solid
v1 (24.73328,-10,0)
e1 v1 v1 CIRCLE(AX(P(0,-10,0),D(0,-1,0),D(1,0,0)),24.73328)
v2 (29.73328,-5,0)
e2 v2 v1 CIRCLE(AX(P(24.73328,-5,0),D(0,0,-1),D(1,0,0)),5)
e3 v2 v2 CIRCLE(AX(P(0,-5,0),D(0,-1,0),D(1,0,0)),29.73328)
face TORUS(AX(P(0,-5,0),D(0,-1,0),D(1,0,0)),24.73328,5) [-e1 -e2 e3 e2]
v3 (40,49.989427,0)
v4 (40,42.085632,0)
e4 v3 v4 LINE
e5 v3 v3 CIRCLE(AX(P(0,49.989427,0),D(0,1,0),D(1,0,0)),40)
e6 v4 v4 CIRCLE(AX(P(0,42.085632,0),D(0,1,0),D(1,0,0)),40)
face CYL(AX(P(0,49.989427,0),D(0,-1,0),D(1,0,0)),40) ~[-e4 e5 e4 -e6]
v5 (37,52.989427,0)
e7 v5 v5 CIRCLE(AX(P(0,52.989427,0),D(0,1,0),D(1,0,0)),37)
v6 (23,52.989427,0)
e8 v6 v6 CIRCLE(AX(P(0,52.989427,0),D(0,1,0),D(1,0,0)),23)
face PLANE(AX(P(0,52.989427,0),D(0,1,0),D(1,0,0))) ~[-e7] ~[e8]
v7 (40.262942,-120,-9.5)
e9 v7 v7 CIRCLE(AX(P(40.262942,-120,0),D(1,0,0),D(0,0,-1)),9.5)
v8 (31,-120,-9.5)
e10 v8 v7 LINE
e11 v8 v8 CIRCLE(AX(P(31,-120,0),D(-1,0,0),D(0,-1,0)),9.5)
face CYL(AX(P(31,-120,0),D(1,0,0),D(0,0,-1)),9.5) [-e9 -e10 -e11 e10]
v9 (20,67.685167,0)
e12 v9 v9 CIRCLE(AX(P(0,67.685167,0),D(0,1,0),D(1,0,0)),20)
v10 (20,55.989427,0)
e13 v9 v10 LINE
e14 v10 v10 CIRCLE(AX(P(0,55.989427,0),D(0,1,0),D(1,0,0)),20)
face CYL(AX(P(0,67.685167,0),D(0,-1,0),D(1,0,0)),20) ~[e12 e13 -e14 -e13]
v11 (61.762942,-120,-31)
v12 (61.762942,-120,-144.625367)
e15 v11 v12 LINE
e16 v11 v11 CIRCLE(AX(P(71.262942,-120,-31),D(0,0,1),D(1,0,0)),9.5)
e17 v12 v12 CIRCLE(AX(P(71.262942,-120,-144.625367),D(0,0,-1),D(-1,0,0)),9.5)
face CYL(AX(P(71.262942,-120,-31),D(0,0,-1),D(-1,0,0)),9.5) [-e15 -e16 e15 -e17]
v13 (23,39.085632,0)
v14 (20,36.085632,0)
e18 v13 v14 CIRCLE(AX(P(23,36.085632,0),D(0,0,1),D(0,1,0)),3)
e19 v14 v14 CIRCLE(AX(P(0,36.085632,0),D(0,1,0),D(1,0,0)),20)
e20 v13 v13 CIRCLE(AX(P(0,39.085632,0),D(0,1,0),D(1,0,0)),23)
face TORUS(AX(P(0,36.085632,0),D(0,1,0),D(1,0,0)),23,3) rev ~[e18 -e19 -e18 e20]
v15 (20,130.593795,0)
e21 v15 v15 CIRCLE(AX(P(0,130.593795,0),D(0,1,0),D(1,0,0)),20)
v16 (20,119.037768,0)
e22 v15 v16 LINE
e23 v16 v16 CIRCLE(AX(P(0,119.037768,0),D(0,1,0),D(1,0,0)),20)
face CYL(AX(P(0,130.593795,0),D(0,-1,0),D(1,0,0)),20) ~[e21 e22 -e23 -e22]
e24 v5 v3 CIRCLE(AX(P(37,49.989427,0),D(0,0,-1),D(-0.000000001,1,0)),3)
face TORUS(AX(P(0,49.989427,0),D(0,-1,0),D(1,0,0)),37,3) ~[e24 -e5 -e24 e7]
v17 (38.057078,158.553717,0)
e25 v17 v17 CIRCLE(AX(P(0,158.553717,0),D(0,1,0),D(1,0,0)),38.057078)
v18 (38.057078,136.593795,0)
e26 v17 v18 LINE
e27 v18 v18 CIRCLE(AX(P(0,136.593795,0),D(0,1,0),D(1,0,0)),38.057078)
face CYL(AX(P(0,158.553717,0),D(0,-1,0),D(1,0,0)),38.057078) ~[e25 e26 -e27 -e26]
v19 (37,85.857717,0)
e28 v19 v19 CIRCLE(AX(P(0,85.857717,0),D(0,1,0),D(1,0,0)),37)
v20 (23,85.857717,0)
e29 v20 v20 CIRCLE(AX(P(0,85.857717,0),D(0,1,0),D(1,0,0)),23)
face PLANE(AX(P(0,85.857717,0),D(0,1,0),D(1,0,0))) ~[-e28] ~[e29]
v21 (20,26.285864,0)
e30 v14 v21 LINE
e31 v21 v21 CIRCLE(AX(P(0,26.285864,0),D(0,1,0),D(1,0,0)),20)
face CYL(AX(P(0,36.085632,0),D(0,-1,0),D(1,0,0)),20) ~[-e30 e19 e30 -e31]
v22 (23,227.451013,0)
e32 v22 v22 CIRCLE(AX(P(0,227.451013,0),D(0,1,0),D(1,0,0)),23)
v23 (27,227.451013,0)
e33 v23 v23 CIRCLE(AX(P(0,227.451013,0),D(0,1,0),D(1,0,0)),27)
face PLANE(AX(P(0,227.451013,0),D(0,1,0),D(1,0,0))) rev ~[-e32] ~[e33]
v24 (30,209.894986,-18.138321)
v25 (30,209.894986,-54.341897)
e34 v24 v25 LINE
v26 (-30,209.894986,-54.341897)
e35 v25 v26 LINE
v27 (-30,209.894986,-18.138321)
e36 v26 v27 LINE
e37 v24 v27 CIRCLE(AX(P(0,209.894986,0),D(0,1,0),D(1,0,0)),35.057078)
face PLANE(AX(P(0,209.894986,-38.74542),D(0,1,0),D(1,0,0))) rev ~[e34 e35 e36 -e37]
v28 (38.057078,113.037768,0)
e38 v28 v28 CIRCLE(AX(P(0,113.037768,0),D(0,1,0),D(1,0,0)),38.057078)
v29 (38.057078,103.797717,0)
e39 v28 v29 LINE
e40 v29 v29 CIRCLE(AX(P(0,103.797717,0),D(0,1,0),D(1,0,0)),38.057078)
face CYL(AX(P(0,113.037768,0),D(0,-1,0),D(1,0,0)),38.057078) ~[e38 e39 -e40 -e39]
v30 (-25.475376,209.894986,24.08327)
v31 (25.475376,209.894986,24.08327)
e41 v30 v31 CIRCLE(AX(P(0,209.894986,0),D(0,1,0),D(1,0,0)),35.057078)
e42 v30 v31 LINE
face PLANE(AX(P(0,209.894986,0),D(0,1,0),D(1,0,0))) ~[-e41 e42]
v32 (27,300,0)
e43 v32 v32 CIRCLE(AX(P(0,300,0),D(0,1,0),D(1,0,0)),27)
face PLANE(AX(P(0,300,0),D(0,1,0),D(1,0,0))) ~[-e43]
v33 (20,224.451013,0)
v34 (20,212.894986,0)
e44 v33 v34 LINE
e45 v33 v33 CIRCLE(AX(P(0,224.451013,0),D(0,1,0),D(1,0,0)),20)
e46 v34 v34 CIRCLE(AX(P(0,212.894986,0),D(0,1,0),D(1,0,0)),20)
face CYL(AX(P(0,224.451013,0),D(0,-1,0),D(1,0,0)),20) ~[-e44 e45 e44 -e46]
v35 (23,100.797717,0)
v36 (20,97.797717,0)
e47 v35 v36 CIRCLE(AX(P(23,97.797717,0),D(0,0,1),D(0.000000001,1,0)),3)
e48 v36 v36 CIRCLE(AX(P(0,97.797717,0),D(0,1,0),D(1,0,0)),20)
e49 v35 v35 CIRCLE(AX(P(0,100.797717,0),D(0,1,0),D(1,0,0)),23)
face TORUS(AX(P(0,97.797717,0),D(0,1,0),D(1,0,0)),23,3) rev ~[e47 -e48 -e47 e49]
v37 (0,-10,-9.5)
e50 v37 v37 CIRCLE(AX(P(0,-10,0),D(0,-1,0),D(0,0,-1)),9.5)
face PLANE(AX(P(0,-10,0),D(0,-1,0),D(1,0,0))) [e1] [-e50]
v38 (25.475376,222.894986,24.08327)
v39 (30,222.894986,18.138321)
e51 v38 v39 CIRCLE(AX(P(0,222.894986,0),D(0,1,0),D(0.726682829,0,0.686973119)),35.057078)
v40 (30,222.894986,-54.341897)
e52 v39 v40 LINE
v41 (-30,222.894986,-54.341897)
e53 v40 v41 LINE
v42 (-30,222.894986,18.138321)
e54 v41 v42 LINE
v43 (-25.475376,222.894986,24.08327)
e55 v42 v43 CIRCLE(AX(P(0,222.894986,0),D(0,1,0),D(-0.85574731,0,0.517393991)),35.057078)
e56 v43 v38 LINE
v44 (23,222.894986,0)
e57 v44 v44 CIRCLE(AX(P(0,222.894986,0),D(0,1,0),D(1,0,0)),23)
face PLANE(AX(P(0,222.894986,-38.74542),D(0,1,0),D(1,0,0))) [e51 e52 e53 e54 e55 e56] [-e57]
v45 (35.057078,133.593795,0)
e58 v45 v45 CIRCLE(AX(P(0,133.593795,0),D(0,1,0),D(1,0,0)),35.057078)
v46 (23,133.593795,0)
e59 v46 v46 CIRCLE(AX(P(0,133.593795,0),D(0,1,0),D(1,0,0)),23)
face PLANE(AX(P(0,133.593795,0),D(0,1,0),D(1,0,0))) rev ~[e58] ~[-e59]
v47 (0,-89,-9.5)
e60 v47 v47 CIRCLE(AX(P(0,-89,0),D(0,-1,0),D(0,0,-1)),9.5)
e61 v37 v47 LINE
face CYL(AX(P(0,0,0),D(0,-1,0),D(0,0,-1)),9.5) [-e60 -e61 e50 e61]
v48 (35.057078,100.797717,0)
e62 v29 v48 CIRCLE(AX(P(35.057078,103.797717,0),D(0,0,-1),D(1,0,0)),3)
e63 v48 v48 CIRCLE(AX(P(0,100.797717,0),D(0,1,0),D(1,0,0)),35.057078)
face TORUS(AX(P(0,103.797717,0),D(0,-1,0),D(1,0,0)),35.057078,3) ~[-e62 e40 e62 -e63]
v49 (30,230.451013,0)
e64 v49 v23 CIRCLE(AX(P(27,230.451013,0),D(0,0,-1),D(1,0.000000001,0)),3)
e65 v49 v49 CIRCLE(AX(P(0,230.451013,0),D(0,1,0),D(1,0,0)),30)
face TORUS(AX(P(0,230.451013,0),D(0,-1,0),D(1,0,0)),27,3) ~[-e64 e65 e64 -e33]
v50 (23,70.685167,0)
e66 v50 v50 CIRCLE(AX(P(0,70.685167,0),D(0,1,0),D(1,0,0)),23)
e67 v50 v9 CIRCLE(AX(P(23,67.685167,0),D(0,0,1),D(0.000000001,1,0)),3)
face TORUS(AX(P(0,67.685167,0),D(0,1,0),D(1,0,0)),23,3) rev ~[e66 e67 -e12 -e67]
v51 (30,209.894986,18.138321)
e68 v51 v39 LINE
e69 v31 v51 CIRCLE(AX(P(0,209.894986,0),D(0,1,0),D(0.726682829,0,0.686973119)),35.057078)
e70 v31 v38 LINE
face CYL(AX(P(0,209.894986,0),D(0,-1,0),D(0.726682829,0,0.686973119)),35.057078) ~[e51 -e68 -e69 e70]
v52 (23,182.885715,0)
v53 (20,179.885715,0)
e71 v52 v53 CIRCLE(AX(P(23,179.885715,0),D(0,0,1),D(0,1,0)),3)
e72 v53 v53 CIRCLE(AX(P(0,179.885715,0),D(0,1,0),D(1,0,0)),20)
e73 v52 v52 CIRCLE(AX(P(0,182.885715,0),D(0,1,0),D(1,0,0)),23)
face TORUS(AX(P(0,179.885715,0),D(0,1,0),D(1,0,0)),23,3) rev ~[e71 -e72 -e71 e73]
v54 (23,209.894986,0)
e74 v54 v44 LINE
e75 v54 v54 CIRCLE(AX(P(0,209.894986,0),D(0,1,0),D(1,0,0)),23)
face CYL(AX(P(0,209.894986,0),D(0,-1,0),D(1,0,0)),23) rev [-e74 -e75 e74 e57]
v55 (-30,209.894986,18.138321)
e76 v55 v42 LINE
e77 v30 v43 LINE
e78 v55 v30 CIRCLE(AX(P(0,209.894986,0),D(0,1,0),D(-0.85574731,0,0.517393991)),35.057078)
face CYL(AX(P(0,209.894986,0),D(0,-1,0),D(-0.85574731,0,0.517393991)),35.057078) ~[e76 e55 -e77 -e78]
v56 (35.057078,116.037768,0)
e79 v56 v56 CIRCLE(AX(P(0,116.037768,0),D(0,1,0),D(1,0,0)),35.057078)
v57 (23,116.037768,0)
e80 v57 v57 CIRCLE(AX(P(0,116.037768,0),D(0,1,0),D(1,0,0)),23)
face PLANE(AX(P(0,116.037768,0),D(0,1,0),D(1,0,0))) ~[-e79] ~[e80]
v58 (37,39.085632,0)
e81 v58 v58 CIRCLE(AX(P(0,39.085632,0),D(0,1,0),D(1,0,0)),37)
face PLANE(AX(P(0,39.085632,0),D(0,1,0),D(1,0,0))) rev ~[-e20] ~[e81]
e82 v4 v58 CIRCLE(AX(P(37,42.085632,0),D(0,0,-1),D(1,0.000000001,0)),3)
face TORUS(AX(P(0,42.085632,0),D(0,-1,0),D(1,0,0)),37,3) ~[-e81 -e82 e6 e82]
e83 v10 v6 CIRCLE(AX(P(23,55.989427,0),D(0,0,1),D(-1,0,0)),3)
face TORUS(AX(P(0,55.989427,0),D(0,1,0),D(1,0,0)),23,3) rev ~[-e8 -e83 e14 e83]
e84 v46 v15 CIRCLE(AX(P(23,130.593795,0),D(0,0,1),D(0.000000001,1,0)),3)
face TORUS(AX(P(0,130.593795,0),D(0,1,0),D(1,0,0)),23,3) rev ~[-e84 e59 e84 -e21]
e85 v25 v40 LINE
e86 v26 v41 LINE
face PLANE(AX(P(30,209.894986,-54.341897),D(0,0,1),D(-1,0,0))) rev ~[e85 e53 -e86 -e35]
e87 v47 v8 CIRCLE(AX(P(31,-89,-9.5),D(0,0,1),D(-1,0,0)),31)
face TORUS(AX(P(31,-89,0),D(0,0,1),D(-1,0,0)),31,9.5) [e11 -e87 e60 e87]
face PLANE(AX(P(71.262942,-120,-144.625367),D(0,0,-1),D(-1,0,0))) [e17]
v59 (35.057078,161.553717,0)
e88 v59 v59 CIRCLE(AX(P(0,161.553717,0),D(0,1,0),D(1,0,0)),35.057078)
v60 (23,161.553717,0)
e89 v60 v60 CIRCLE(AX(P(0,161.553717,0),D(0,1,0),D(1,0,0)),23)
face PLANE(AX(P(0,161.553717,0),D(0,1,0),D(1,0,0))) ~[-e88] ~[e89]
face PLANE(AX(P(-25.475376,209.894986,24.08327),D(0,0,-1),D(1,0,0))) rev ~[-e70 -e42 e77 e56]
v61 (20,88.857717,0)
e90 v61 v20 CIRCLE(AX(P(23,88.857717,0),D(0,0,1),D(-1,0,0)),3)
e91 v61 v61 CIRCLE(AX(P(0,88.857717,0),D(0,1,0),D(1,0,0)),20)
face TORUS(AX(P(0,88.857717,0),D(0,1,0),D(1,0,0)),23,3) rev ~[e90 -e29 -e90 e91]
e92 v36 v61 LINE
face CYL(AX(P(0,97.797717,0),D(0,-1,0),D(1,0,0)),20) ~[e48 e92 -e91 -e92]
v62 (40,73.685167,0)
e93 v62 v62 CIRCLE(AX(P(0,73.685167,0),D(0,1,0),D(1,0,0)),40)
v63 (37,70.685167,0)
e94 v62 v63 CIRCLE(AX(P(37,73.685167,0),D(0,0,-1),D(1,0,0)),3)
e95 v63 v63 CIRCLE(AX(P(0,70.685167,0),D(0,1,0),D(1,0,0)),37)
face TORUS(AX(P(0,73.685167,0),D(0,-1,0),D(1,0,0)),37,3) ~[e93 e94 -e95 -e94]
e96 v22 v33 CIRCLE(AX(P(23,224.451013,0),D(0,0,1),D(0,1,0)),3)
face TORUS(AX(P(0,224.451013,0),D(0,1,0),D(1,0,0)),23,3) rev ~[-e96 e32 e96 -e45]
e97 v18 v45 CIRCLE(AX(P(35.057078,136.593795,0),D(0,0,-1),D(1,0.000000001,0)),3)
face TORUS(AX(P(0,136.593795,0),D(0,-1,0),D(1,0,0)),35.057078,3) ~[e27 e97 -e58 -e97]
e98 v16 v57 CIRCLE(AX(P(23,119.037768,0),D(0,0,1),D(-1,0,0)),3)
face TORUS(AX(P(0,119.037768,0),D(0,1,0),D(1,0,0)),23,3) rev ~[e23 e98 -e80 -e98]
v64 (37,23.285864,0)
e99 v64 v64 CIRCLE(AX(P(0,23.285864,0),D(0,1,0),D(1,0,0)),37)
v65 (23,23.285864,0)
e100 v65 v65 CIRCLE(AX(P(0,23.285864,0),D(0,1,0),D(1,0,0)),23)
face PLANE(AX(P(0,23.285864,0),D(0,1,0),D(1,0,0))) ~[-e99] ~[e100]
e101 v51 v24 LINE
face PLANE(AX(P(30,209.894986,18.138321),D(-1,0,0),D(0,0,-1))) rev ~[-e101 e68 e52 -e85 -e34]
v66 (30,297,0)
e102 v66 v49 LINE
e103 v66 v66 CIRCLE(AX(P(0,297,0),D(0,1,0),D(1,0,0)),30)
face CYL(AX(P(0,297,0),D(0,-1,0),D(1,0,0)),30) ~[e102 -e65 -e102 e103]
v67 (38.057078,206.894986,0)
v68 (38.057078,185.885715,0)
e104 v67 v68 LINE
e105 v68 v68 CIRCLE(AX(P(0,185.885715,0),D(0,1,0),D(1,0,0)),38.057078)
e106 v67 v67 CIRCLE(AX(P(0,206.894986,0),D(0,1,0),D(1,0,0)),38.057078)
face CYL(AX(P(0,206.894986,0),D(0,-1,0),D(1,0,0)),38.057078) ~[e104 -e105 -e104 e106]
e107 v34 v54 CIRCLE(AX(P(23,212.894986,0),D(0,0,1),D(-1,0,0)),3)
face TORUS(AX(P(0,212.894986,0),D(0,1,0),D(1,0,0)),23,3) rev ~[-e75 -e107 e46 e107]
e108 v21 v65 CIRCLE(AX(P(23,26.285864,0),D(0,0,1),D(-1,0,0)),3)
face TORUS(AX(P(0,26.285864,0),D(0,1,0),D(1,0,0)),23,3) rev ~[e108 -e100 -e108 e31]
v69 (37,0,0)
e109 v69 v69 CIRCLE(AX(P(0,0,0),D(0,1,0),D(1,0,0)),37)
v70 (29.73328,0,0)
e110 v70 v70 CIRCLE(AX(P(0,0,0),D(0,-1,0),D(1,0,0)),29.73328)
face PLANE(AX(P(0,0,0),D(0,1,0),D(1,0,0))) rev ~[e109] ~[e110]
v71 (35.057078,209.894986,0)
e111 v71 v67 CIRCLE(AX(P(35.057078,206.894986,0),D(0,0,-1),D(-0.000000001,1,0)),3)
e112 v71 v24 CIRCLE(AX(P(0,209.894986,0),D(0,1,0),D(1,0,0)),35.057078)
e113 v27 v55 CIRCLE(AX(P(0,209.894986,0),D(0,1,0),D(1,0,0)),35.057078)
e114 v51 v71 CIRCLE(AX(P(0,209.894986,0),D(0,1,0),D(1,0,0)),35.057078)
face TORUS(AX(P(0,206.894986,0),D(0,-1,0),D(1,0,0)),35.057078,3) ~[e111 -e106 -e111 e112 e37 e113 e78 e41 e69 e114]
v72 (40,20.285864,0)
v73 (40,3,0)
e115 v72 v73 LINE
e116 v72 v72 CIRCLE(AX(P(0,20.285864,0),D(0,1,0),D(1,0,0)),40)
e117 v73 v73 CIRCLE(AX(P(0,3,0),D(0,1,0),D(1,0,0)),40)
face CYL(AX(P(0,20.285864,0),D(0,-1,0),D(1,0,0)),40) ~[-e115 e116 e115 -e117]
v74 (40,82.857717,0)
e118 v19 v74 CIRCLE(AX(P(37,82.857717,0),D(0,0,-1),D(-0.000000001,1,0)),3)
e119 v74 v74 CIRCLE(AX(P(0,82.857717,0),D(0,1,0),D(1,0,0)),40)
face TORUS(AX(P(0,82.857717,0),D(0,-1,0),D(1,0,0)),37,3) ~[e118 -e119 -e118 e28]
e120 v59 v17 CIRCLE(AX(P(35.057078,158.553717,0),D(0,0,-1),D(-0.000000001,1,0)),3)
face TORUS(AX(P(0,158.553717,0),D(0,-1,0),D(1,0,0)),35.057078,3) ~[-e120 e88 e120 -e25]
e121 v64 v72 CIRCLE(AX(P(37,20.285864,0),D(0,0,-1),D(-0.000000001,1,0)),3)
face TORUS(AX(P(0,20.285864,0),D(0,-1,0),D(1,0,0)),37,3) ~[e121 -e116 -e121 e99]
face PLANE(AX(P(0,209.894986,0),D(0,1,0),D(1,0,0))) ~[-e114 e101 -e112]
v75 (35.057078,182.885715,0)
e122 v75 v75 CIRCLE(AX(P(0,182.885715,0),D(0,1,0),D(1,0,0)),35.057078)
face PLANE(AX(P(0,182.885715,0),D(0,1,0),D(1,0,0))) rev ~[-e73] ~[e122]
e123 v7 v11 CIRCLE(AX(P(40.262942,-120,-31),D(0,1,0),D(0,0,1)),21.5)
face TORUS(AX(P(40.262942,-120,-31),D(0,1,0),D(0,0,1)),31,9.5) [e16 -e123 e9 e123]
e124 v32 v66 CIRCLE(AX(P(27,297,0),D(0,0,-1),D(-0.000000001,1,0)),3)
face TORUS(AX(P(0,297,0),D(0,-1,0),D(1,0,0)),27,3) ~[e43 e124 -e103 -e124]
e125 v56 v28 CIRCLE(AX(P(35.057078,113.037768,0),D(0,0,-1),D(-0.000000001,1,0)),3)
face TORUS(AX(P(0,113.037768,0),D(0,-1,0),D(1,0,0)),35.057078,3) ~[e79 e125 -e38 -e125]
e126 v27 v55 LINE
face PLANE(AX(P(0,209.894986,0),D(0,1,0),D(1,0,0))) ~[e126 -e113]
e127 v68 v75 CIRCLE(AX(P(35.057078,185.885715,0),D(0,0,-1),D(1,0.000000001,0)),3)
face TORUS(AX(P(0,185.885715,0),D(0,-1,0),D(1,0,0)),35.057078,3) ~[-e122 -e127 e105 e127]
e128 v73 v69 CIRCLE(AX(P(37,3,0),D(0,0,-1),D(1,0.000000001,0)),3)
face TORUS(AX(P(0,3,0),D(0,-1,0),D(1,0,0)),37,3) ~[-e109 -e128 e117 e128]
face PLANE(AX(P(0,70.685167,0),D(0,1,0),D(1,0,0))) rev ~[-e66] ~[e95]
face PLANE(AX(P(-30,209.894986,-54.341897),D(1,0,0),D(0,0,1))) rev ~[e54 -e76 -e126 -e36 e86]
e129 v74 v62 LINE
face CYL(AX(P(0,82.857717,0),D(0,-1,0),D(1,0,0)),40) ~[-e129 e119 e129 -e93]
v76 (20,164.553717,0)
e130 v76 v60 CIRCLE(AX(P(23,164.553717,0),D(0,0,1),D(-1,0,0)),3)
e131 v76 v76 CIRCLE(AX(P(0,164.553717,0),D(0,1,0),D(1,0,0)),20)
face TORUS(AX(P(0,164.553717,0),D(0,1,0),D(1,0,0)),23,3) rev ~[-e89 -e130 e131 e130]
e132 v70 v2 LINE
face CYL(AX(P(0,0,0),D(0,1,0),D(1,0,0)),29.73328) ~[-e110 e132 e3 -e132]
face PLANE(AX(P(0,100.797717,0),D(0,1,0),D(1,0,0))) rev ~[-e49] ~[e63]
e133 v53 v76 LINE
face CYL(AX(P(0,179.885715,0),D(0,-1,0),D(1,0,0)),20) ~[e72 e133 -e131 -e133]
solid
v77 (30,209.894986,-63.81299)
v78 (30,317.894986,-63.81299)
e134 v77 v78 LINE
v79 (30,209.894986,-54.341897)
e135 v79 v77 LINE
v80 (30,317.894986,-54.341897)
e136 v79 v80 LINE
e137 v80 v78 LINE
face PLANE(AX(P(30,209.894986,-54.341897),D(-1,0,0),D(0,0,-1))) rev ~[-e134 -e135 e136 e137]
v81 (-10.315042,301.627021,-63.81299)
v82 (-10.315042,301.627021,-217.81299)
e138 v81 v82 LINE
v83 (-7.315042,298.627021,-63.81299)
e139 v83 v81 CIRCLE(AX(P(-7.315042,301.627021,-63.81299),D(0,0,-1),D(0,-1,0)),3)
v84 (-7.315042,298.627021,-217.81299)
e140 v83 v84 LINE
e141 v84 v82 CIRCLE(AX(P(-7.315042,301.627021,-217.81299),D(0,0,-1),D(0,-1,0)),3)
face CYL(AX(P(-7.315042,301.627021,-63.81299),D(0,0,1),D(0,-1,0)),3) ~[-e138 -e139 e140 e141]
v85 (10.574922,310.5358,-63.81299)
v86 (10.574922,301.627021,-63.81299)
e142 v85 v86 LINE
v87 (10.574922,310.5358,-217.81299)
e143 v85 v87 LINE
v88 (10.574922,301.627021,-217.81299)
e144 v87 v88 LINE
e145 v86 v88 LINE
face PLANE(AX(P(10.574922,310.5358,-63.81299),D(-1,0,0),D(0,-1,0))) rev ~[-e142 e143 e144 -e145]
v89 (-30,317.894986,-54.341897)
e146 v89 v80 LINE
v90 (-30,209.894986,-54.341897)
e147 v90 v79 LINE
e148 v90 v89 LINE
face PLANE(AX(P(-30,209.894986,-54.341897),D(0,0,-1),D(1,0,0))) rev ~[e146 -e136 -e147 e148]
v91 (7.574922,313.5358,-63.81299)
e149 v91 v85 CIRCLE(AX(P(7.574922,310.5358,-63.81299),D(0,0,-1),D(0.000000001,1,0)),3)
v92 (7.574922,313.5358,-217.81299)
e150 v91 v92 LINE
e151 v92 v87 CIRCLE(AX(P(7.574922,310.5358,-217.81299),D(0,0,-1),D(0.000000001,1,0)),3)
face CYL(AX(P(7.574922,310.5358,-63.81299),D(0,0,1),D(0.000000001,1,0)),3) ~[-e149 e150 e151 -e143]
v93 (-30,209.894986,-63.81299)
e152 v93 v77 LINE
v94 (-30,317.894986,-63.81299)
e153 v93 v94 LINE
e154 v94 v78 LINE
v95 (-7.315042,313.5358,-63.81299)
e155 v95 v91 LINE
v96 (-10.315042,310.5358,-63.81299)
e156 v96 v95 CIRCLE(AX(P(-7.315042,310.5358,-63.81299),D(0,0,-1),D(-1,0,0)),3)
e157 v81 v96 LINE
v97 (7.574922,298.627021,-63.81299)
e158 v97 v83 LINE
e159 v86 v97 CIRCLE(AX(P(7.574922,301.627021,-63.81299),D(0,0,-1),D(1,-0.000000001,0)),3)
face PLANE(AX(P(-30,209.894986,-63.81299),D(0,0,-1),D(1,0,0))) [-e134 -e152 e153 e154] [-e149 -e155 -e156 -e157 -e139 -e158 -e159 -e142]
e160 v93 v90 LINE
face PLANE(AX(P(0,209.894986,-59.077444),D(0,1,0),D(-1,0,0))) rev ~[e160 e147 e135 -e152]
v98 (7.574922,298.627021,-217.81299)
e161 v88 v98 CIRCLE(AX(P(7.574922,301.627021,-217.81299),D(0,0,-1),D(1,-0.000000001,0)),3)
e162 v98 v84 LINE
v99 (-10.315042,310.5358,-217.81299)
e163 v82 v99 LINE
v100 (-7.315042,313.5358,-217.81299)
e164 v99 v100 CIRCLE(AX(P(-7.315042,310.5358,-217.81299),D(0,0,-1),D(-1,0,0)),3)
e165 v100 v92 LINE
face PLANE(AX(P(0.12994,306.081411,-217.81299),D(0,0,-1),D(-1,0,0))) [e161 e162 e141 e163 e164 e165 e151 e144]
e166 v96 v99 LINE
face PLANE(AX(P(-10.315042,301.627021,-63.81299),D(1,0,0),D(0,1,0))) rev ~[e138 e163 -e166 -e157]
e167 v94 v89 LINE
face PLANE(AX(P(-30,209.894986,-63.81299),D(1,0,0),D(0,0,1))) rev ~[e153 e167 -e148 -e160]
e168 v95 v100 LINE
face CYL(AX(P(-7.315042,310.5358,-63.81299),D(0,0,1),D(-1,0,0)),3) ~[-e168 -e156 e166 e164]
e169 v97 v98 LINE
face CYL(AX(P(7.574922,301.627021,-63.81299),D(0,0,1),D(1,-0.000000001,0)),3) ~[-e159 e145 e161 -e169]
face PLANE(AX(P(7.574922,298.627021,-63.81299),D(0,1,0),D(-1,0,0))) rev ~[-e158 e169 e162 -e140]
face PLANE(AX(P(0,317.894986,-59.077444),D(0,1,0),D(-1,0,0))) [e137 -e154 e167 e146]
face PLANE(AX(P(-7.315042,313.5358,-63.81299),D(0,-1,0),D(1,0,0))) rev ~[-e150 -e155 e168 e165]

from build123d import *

# Parameters (mm, degrees)
CROQUIS2_R              = 29.733280037
SALIENTE_EXTRUIR1_DEPTH = 10
REDONDEO1_R             = 5
CROQUIS3_R              = 23
SALIENTE_EXTRUIR2_DEPTH = 13
SALIENTE_EXTRUIR3_DEPTH = 108
SALIENTE_EXTRUIR4_DEPTH = 154
BARRER2_PROFILE_R       = 9.5


with BuildPart() as part:
    # Croquis1 → Revolución2 (revolve)
    with BuildSketch(Plane.XY):
        with BuildLine():
            Line((0, 0), (0, 300))
            Line((0, 300), (27, 300))
            ThreePointArc((27, 300), (29.121320344, 299.121320344), (30, 297))
            Line((30, 297), (30, 230.451012724))
            ThreePointArc((30, 230.451012724), (29.121320344, 228.32969238), (27, 227.451012724))
            Line((27, 227.451012724), (23, 227.451012724))
            ThreePointArc((23, 227.451012724), (20.878679656, 226.572333067), (20, 224.451012724))
            Line((20, 224.451012724), (20, 212.89498634))
            ThreePointArc((20, 212.89498634), (20.878679656, 210.773665997), (23, 209.89498634))
            Line((23, 209.89498634), (35.057077789, 209.89498634))
            ThreePointArc((35.057077789, 209.89498634), (37.178398133, 209.016306684), (38.057077789, 206.89498634))
            Line((38.057077789, 206.89498634), (38.057077789, 185.885714981))
            ThreePointArc((38.057077789, 185.885714981), (37.178398133, 183.764394637), (35.057077789, 182.885714981))
            Line((35.057077789, 182.885714981), (23, 182.885714981))
            ThreePointArc((23, 182.885714981), (20.878679656, 182.007035324), (20, 179.885714981))
            Line((20, 179.885714981), (20, 164.553716867))
            ThreePointArc((20, 164.553716867), (20.878679656, 162.432396524), (23, 161.553716867))
            Line((23, 161.553716867), (35.057077789, 161.553716867))
            ThreePointArc((35.057077789, 161.553716867), (37.178398133, 160.675037211), (38.057077789, 158.553716867))
            Line((38.057077789, 158.553716867), (38.057077789, 136.59379475))
            ThreePointArc((38.057077789, 136.59379475), (37.178398133, 134.472474406), (35.057077789, 133.59379475))
            Line((35.057077789, 133.59379475), (23, 133.59379475))
            ThreePointArc((23, 133.59379475), (20.878679656, 132.715115094), (20, 130.59379475))
            Line((20, 130.59379475), (20, 119.037768366))
            ThreePointArc((20, 119.037768366), (20.878679656, 116.916448023), (23, 116.037768366))
            Line((23, 116.037768366), (35.057077789, 116.037768366))
            ThreePointArc((35.057077789, 116.037768366), (37.178398133, 115.15908871), (38.057077789, 113.037768366))
            Line((38.057077789, 113.037768366), (38.057077789, 103.797716867))
            ThreePointArc((38.057077789, 103.797716867), (37.178398133, 101.676396524), (35.057077789, 100.797716867))
            Line((35.057077789, 100.797716867), (23, 100.797716867))
            ThreePointArc((23, 100.797716867), (20.878679656, 99.919037211), (20, 97.797716867))
            Line((20, 97.797716867), (20, 88.857716867))
            ThreePointArc((20, 88.857716867), (20.878679656, 86.736396524), (23, 85.857716867))
            Line((23, 85.857716867), (37, 85.857716867))
            ThreePointArc((37, 85.857716867), (39.121320344, 84.979037211), (40, 82.857716867))
            Line((40, 82.857716867), (40, 73.685167011))
            ThreePointArc((40, 73.685167011), (39.121320344, 71.563846668), (37, 70.685167011))
            Line((37, 70.685167011), (23, 70.685167011))
            ThreePointArc((23, 70.685167011), (20.878679656, 69.806487355), (20, 67.685167011))
            Line((20, 67.685167011), (20, 55.98942738))
            ThreePointArc((20, 55.98942738), (20.878679656, 53.868107037), (23, 52.98942738))
            Line((23, 52.98942738), (37, 52.98942738))
            ThreePointArc((37, 52.98942738), (39.121320344, 52.110747724), (40, 49.98942738))
            Line((40, 49.98942738), (40, 42.085631956))
            ThreePointArc((40, 42.085631956), (39.121320344, 39.964311612), (37, 39.085631956))
            Line((37, 39.085631956), (23, 39.085631956))
            ThreePointArc((23, 39.085631956), (20.878679656, 38.206952299), (20, 36.085631956))
            Line((20, 36.085631956), (20, 26.285864428))
            ThreePointArc((20, 26.285864428), (20.878679656, 24.164544085), (23, 23.285864428))
            Line((23, 23.285864428), (37, 23.285864428))
            ThreePointArc((37, 23.285864428), (39.121320344, 22.407184772), (40, 20.285864428))
            Line((40, 20.285864428), (40, 3))
            ThreePointArc((40, 3), (39.121320344, 0.878679656), (37, 0))
            Line((37, 0), (0, 0))
        make_face()
    revolve(axis=Axis((0, 0, 0), (0, 1, 0)))

    # Croquis2 → Saliente-Extruir1 (add)
    with BuildSketch(Plane.XZ):
        Circle(CROQUIS2_R)
    extrude(amount=SALIENTE_EXTRUIR1_DEPTH)

    # Redondeo1
    redondeo1_edges = [part.edges().sort_by_distance(p)[0] for p in [
        (-29.733280037, -10, 0),
    ]]
    fillet(redondeo1_edges, radius=REDONDEO1_R)

    # Croquis3 → Saliente-Extruir2 (add)
    with BuildSketch(Plane(origin=(0, 209.89498634, 0), x_dir=(1, 0, 0), z_dir=(0, 1, 0))):
        with BuildLine():
            ThreePointArc((-30, 18.138321398), (0, 35.057077789), (30, 18.138321398))
            Line((30, 18.138321398), (30, 54.341897392))
            Line((30, 54.341897392), (-30, 54.341897392))
            Line((-30, 54.341897392), (-30, 18.138321398))
        make_face()
        with BuildLine():
            Line((12.206395984, -24.083270066), (25.475376465, -24.083270066))
            ThreePointArc((25.475376465, -24.083270066), (27.8965043, -21.231668587), (30, -18.138321398))
            Line((30, -18.138321398), (30, 18.138321398))
            ThreePointArc((30, 18.138321398), (0, 35.057077789), (-30, 18.138321398))
            Line((-30, 18.138321398), (-30, -18.138321398))
            ThreePointArc((-30, -18.138321398), (-27.8965043, -21.231668587), (-25.475376465, -24.083270066))
            Line((-25.475376465, -24.083270066), (-12.206395984, -24.083270066))
            ThreePointArc((-12.206395984, -24.083270066), (-14.132008145, 23.006224066), (27, 0))
            ThreePointArc((27, 0), (23.006224066, -14.132008145), (12.206395984, -24.083270066))
        make_face()
        with BuildLine():
            Line((-12.206395984, -24.083270066), (12.206395984, -24.083270066))
            ThreePointArc((12.206395984, -24.083270066), (23.006224066, -14.132008145), (27, 0))
            ThreePointArc((27, 0), (-14.132008145, 23.006224066), (-12.206395984, -24.083270066))
        make_face()
        Circle(CROQUIS3_R, mode=Mode.SUBTRACT)
    extrude(amount=SALIENTE_EXTRUIR2_DEPTH)

    # Barrer2: sweep along a curve in space
    with BuildLine() as barrer2_path:
        Line((0, 0, 0), (0, -89, 0))
        ThreePointArc((0, -89, 0), (9.079689783, -110.920310217, 0), (31, -120, 0))
        Line((31, -120, 0), (40.262942127, -120, 0))
        ThreePointArc((40.262942127, -120, 0), (62.183252344, -120, -9.079689783), (71.262942127, -120, -31))
        Line((71.262942127, -120, -31), (71.262942127, -120, -144.625367206))
    # Barrer2 profile (on start of the path) → Barrer2 (sweep)
    with BuildSketch(Plane(origin=(0, 0, 0), x_dir=(0, 0, -1), z_dir=(0, -1, 0))):
        Circle(BARRER2_PROFILE_R)
    sweep(path=barrer2_path.line)


with BuildPart() as body_2:
    # Croquis4 → Saliente-Extruir3 (new body)
    with BuildSketch(Plane.XZ.offset(-209.89498634)):
        Polygon((30, -54.341897392), (30, -63.812990479), (-29.096122516, -63.812990479), (-30, -63.812990479), (-30, -54.341897392), align=None)
    extrude(amount=-SALIENTE_EXTRUIR3_DEPTH)

    # Croquis5 → Saliente-Extruir4 (add)
    with BuildSketch(Plane(origin=(0, 0, -63.812990479), x_dir=(-1, 0, 0), z_dir=(0, 0, -1))):
        with BuildLine():
            Line((-7.574922315, 298.627020804), (7.315041519, 298.627020804))
            ThreePointArc((7.315041519, 298.627020804), (9.436361863, 299.505700461), (10.315041519, 301.627020804))
            Line((10.315041519, 301.627020804), (10.315041519, 310.535800487))
            ThreePointArc((10.315041519, 310.535800487), (9.436361863, 312.65712083), (7.315041519, 313.535800487))
            Line((7.315041519, 313.535800487), (-7.574922315, 313.535800487))
            ThreePointArc((-7.574922315, 313.535800487), (-9.696242658, 312.65712083), (-10.574922315, 310.535800487))
            Line((-10.574922315, 310.535800487), (-10.574922315, 301.627020804))
            ThreePointArc((-10.574922315, 301.627020804), (-9.696242658, 299.505700461), (-7.574922315, 298.627020804))
        make_face()
    extrude(amount=SALIENTE_EXTRUIR4_DEPTH)


solid = Compound([part.part, body_2.part])
